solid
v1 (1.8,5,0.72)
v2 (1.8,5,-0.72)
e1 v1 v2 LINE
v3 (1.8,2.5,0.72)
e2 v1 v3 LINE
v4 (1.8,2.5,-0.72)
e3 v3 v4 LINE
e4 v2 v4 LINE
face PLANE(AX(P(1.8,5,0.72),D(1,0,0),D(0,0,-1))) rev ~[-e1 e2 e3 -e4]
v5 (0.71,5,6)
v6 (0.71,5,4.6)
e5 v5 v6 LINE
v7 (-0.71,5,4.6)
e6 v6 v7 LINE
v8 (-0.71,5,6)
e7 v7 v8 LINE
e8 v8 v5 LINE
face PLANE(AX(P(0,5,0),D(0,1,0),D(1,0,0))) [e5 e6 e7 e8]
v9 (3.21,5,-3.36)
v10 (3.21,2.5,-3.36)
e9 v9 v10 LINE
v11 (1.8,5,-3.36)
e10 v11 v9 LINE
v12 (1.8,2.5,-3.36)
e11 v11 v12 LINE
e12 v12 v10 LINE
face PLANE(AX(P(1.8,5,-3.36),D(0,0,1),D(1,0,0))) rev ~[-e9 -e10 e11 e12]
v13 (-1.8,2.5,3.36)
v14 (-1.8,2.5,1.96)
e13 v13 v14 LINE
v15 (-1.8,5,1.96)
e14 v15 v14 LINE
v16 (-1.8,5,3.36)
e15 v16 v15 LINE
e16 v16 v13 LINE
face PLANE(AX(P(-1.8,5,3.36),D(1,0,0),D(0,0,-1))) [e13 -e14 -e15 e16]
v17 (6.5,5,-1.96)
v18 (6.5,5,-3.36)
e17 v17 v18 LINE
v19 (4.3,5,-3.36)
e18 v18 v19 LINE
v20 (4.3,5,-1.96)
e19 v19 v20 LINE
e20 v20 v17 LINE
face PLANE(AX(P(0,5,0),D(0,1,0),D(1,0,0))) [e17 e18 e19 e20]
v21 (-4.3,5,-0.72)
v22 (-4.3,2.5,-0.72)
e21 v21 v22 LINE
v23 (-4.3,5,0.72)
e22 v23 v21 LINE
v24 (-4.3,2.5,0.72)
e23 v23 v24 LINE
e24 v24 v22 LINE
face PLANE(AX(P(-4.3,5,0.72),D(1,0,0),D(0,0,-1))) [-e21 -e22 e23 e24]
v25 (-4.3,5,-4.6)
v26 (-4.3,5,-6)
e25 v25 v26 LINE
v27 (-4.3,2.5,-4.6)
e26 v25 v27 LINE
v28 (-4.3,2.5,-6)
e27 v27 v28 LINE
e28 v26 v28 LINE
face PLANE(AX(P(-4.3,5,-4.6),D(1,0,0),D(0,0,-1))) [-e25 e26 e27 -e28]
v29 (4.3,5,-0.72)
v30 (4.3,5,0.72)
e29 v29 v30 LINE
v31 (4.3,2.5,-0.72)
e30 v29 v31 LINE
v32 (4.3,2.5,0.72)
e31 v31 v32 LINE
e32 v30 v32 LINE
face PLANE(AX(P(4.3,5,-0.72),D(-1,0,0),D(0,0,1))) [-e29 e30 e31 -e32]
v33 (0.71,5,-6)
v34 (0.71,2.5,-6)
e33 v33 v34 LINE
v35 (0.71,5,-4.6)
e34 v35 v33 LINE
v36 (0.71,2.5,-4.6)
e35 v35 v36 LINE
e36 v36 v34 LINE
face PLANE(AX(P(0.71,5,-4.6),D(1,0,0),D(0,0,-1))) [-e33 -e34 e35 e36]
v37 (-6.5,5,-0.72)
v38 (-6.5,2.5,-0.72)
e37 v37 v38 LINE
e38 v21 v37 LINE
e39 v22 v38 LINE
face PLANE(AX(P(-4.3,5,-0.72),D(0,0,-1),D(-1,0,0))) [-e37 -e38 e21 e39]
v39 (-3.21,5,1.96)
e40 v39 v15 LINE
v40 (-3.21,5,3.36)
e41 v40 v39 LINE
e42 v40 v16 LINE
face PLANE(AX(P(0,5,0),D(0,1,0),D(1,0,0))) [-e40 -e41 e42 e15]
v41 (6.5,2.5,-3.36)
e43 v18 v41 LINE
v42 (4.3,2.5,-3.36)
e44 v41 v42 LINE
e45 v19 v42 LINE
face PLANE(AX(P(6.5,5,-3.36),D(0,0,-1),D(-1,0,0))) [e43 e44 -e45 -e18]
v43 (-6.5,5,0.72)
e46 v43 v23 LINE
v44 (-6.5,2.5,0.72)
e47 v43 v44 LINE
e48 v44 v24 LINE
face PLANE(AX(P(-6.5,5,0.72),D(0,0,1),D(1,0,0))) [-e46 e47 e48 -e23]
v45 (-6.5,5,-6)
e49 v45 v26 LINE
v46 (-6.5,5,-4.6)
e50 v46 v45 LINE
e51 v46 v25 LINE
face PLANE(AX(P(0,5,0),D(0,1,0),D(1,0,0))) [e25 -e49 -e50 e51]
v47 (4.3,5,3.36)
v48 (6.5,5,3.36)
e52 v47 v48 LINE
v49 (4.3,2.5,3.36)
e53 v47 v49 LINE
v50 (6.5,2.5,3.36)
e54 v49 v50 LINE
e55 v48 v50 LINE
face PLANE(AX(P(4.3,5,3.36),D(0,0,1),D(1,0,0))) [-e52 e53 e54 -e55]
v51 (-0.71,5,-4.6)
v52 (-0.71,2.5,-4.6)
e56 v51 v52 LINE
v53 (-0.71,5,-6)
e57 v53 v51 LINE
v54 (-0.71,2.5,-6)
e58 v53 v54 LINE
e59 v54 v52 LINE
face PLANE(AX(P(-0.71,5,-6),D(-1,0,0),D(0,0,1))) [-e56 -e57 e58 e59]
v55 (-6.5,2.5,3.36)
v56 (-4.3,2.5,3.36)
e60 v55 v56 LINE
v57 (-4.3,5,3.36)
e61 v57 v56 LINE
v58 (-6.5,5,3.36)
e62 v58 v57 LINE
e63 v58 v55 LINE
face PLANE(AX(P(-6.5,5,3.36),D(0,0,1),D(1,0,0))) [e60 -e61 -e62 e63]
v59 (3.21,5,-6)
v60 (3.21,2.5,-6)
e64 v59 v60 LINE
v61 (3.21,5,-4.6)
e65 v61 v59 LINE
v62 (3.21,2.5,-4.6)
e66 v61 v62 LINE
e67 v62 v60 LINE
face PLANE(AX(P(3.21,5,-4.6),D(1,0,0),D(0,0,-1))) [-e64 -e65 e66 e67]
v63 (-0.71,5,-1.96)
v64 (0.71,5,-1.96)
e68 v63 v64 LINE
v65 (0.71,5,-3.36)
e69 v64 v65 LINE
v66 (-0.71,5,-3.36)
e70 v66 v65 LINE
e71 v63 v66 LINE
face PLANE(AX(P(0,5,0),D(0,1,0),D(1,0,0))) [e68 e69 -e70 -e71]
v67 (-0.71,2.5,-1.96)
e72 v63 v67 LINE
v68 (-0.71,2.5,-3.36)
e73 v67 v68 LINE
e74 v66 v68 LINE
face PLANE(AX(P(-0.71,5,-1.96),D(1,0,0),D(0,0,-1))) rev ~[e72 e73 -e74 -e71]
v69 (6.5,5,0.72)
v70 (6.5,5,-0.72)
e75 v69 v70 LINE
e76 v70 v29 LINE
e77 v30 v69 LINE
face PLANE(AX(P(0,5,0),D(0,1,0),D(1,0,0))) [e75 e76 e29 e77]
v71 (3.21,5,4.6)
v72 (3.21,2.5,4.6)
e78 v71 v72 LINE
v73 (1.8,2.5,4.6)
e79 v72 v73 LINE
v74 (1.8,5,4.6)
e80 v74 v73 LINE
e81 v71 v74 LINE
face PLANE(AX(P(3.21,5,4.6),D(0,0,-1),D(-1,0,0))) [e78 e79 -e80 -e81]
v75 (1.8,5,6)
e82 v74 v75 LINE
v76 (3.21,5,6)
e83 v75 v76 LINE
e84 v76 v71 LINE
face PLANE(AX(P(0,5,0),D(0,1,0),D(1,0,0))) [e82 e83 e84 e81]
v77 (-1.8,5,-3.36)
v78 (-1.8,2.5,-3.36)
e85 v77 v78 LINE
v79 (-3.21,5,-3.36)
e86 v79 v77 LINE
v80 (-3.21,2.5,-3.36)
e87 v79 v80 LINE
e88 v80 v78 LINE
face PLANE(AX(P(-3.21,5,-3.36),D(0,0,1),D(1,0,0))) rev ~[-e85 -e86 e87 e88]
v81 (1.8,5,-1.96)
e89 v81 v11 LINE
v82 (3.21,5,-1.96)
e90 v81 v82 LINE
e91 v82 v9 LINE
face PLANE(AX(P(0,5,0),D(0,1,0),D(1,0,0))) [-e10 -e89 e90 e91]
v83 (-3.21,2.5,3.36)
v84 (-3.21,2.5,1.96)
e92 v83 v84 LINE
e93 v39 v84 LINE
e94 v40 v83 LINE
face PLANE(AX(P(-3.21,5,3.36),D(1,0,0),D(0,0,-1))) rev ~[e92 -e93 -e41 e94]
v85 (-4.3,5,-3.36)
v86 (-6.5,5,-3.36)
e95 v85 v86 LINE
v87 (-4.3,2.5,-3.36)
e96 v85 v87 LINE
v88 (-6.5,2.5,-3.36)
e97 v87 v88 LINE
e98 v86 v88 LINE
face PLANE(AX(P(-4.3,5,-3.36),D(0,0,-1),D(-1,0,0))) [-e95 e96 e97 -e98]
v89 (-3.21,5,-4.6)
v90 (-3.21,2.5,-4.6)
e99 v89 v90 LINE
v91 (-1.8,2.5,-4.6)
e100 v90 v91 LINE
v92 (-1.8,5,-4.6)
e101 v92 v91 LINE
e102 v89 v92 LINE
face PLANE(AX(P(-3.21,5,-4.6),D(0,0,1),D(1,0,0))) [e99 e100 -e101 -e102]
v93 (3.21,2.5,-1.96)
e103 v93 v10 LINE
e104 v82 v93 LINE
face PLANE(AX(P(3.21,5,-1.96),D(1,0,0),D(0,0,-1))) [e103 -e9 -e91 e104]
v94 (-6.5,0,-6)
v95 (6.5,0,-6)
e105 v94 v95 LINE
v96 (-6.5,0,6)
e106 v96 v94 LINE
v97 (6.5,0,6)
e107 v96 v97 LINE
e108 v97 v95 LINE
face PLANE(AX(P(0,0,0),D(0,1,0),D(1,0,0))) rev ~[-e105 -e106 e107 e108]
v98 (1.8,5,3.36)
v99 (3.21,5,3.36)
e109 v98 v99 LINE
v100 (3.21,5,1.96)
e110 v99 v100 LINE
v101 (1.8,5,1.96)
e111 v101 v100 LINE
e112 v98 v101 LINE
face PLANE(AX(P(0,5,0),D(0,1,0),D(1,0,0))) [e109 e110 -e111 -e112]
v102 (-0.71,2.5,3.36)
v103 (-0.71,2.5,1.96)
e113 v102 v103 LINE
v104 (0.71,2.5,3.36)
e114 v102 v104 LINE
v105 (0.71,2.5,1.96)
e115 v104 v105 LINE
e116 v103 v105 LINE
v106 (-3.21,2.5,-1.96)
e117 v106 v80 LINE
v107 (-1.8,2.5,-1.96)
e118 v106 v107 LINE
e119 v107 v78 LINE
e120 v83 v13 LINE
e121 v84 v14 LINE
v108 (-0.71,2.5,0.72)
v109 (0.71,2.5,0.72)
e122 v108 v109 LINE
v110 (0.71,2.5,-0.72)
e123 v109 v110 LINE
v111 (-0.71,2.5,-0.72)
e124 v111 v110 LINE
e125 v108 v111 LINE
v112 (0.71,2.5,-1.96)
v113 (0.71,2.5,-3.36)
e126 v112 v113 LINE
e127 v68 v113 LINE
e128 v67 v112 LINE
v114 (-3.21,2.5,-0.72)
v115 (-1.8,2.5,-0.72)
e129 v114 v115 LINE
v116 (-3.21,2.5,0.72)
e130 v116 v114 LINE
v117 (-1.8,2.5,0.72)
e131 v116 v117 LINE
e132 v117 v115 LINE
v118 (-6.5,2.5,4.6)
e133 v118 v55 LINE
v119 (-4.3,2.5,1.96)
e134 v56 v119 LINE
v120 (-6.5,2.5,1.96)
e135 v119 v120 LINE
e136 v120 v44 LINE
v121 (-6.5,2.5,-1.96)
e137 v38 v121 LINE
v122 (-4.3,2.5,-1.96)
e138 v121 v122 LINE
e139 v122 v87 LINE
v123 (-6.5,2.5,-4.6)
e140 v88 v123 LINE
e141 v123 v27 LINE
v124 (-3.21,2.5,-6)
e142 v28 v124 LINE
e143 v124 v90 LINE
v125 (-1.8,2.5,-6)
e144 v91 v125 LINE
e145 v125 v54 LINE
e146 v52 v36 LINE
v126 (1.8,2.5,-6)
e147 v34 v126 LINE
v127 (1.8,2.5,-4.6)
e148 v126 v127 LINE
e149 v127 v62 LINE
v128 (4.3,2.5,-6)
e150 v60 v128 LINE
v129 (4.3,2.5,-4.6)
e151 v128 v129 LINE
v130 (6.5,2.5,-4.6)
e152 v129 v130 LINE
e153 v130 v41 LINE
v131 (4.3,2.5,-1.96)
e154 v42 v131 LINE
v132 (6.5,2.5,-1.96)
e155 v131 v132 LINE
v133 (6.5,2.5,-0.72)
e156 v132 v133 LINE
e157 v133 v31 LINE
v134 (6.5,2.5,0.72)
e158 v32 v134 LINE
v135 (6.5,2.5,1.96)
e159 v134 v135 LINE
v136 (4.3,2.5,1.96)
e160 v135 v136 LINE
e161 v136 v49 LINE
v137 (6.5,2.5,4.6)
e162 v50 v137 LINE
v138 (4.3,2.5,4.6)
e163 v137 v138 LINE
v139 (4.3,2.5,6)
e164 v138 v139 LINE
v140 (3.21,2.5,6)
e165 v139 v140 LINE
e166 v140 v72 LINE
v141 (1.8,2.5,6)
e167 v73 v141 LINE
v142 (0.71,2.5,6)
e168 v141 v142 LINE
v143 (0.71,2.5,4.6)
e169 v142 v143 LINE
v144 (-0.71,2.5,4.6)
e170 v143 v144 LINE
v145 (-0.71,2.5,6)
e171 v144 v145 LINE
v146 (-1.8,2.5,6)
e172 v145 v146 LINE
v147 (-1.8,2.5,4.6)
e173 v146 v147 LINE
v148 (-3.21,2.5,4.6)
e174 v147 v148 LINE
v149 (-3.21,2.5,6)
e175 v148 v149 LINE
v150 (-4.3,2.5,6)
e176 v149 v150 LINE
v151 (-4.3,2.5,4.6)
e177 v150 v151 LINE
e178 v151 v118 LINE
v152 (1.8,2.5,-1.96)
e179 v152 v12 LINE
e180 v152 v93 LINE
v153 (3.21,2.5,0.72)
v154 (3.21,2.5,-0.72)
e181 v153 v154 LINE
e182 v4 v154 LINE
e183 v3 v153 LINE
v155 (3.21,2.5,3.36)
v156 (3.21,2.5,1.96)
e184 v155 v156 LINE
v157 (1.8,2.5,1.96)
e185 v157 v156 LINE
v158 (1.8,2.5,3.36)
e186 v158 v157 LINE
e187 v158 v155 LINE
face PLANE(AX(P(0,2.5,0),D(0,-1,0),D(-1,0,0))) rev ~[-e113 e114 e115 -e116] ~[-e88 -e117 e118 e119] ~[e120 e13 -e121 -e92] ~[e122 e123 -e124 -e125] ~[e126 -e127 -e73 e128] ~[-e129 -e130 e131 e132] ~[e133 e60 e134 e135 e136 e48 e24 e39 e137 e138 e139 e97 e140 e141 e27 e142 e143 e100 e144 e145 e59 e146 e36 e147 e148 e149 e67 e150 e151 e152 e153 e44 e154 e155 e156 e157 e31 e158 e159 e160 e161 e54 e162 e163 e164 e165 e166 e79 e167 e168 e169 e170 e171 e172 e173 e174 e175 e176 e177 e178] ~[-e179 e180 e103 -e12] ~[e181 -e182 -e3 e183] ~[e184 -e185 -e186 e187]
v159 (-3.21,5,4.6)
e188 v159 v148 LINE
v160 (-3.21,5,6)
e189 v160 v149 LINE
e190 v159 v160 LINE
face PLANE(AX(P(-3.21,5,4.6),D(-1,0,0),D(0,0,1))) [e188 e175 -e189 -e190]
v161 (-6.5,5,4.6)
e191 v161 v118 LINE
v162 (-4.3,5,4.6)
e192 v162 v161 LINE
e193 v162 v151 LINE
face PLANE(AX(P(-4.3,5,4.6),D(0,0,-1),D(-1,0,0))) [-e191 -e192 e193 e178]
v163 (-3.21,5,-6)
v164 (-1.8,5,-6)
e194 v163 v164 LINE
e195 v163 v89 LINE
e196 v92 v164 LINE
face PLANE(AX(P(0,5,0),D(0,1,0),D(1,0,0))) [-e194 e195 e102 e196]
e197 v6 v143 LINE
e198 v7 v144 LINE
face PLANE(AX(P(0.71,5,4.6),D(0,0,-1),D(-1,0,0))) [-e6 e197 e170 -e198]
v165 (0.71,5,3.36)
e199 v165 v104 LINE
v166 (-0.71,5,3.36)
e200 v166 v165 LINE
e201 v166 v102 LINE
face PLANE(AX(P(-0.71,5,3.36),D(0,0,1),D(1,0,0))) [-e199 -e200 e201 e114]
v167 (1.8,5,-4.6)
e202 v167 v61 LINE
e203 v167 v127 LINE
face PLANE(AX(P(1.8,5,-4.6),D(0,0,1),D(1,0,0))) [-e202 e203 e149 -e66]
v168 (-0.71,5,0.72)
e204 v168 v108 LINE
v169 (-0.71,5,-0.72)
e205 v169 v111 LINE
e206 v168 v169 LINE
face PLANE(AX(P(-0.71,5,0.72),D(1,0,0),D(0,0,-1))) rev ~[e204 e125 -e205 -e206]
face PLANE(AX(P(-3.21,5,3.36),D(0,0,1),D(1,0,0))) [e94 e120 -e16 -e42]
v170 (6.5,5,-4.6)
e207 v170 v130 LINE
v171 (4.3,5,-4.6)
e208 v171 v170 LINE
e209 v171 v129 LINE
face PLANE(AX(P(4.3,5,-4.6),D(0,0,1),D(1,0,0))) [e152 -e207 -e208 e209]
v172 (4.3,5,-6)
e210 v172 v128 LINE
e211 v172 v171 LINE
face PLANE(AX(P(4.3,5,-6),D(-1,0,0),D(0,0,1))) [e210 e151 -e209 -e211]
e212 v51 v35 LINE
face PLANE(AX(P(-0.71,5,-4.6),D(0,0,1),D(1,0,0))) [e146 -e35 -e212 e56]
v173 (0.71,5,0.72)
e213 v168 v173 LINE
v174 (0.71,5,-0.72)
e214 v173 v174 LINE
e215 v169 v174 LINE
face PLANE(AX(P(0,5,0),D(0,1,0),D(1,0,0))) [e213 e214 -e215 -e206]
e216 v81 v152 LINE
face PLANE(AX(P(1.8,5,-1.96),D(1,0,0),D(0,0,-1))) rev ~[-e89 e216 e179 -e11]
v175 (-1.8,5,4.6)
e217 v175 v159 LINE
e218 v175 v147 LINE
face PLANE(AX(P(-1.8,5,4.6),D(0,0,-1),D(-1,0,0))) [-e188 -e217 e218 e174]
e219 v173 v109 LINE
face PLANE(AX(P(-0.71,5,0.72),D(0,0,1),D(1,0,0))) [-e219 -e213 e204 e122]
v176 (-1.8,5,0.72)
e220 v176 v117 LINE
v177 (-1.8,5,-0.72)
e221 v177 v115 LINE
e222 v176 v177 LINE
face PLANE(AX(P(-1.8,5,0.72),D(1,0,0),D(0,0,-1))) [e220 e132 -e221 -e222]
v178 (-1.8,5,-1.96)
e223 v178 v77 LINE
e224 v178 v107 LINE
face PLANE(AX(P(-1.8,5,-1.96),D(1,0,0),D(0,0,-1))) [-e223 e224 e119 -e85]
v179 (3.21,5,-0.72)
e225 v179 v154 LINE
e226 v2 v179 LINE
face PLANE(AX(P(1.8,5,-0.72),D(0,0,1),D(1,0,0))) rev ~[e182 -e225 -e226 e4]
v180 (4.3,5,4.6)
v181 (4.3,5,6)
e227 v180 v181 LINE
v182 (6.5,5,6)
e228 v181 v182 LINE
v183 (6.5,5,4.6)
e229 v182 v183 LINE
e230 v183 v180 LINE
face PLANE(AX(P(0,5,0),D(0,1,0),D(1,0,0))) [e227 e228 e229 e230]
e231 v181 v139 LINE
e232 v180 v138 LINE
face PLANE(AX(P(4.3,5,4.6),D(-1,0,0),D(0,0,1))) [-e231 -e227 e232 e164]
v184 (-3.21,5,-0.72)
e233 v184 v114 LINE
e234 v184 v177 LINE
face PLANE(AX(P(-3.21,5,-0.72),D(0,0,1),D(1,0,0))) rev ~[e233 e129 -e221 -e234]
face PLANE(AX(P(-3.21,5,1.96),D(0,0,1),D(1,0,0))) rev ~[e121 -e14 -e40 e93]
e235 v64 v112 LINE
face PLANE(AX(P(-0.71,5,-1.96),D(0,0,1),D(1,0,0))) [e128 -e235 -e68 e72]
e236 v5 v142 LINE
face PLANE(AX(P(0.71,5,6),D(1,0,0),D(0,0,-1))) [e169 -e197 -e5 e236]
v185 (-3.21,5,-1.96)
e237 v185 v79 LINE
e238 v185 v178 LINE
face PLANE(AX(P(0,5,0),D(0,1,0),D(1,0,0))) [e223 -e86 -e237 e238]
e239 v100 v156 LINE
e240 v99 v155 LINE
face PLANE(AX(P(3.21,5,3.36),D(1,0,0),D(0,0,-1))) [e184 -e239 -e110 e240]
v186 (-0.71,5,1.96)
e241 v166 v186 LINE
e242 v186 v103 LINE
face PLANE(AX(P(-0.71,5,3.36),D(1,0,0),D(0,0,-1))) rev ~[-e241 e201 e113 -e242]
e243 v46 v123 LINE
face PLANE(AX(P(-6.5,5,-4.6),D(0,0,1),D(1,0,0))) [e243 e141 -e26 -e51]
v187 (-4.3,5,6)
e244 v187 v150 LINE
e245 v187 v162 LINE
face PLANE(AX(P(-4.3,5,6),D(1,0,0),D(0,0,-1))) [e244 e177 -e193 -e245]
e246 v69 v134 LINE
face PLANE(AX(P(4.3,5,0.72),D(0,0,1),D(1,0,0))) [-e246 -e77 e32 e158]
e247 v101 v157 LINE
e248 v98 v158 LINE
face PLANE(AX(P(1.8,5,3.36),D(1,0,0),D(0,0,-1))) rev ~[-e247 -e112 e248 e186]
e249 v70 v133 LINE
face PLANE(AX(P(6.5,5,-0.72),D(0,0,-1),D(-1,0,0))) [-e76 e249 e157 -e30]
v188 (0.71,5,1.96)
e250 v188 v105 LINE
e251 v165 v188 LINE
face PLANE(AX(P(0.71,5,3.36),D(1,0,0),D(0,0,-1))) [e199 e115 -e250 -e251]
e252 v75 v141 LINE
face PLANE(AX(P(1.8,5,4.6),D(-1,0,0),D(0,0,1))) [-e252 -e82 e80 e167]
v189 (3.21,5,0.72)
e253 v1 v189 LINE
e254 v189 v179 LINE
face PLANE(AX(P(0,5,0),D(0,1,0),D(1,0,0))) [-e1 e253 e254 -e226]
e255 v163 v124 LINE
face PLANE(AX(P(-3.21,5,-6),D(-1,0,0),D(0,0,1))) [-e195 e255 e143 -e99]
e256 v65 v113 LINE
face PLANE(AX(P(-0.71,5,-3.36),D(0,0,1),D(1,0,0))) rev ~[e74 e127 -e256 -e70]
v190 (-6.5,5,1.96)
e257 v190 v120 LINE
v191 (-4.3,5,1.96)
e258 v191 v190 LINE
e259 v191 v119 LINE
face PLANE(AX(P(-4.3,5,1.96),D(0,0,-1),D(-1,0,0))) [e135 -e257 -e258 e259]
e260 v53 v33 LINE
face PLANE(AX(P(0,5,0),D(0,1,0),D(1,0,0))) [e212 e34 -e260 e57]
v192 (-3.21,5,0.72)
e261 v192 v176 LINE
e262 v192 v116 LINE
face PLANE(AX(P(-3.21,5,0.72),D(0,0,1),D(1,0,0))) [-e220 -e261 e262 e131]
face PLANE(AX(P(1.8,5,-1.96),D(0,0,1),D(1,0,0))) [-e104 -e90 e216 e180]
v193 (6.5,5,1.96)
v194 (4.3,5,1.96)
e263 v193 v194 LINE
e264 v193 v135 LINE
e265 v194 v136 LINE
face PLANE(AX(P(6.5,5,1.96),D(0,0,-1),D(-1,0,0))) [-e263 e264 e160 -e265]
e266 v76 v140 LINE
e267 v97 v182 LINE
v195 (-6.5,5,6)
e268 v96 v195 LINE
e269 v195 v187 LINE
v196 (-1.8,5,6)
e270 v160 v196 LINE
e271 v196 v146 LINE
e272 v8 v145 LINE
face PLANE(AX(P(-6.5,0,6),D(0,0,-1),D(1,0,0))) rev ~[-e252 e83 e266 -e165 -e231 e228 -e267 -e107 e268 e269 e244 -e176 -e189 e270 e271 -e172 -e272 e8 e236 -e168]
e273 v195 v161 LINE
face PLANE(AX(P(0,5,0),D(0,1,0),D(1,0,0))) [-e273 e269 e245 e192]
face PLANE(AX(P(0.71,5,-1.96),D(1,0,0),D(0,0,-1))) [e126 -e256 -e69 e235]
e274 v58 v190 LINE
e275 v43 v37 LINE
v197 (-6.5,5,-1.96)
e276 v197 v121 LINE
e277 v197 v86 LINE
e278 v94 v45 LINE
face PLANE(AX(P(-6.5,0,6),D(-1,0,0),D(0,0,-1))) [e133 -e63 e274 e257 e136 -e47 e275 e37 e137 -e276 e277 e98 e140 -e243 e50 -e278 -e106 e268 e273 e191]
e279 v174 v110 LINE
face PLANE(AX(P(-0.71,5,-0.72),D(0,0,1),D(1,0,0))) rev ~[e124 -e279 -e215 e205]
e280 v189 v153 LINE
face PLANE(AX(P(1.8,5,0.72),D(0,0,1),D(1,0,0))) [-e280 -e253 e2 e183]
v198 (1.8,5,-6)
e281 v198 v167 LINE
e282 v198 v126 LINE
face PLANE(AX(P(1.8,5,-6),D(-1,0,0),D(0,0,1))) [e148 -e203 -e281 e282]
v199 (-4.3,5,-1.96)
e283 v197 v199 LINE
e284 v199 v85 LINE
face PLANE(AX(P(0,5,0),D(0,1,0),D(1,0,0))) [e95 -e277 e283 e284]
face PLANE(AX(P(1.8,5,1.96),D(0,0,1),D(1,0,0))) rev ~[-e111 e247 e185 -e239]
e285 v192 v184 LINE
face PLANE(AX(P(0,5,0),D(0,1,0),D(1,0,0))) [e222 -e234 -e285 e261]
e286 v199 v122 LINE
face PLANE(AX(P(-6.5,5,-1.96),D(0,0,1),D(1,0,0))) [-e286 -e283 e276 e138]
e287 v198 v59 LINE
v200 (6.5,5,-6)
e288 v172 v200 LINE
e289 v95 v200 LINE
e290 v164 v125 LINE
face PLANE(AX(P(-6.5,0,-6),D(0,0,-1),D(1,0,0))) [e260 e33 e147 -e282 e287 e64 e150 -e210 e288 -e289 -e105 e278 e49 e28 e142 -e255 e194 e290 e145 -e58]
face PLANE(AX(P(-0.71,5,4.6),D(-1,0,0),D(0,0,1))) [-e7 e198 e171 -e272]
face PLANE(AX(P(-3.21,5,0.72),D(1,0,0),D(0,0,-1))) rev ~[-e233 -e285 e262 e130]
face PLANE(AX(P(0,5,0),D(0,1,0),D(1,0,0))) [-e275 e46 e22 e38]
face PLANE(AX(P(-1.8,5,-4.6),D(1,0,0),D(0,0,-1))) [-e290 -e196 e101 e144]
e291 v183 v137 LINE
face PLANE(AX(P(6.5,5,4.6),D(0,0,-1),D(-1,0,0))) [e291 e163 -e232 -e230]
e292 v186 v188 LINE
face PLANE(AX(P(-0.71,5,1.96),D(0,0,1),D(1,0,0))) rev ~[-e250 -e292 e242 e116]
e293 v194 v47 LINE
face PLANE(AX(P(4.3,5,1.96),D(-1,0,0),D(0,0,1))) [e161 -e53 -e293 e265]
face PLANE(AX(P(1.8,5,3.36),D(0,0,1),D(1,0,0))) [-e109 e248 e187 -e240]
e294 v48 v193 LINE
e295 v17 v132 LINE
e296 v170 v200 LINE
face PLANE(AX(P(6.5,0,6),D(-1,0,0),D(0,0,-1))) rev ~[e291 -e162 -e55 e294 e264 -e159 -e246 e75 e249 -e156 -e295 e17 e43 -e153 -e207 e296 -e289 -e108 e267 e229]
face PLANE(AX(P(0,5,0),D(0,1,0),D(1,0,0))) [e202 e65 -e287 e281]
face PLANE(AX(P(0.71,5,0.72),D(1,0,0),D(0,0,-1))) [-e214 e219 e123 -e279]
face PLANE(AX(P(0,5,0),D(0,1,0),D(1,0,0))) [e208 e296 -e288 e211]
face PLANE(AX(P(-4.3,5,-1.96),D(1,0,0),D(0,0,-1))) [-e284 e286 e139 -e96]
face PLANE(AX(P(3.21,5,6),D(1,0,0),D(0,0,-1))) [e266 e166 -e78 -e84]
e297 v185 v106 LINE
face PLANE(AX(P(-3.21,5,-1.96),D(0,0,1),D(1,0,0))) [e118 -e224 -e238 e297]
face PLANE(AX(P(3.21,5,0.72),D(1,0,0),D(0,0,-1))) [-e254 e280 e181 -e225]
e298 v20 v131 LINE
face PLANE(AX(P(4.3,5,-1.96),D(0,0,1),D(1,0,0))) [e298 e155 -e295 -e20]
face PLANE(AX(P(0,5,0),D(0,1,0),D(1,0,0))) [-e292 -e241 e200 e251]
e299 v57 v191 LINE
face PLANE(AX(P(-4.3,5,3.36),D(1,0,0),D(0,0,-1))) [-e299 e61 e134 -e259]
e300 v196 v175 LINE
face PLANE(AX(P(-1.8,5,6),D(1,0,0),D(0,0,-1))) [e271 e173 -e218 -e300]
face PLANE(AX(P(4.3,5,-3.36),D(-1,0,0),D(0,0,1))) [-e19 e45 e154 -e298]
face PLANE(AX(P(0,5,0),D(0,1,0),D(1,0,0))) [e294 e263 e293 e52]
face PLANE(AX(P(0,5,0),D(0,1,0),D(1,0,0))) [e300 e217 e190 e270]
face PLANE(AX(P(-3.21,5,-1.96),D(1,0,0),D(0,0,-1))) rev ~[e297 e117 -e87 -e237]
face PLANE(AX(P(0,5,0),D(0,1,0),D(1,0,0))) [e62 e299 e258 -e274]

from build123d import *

# Parameters (mm, degrees)
SKETCH1_W           = 13
SKETCH1_H           = 12
BOSS_EXTRUDE1_DEPTH = 5
SKETCH2_W           = 1.41
SKETCH2_H           = 1.4
SKETCH2_H_2         = 1.44
SKETCH2_W_2         = 1.42
CUT_EXTRUDE1_DEPTH  = 2.5


with BuildPart() as part:
    # Sketch1 → Boss-Extrude1 (new body)
    with BuildSketch(Plane(origin=(0, 0, 0), x_dir=(1, 0, 0), z_dir=(0, 1, 0))):
        Rectangle(SKETCH1_W, SKETCH1_H)
    extrude(amount=BOSS_EXTRUDE1_DEPTH)

    # Sketch2 → Cut-Extrude1 (cut)
    with BuildSketch(Plane(origin=(0, 5, 0), x_dir=(1, 0, 0), z_dir=(0, 1, 0))):
        Polygon((-1.8, 6), (-0.71, 6), (-0.71, 4.6), (0.71, 4.6), (0.71, 6), (1.8, 6), (1.8, 4.6), (3.21, 4.6), (3.21, 6), (4.3, 6), (4.3, 4.6), (6.5, 4.6), (6.5, 3.36), (4.3, 3.36), (4.3, 1.96), (6.5, 1.96), (6.5, 0.72), (4.3, 0.72), (4.3, -0.72), (6.5, -0.72), (6.5, -1.96), (4.3, -1.96), (4.3, -3.36), (6.5, -3.36), (6.5, -4.6), (4.3, -4.6), (4.3, -6), (3.21, -6), (3.21, -4.6), (1.8, -4.6), (1.8, -6), (0.71, -6), (0.71, -4.6), (-0.71, -4.6), (-0.71, -6), (-1.8, -6), (-1.8, -4.6), (-3.21, -4.6), (-3.21, -6), (-4.3, -6), (-4.3, -4.6), (-6.5, -4.6), (-6.5, -3.36), (-4.3, -3.36), (-4.3, -1.96), (-6.5, -1.96), (-6.5, -0.72), (-4.3, -0.72), (-4.3, 0.72), (-6.5, 0.72), (-6.5, 1.96), (-4.3, 1.96), (-4.3, 3.36), (-6.5, 3.36), (-6.5, 4.6), (-4.3, 4.6), (-4.3, 6), (-3.21, 6), (-3.21, 4.6), (-1.8, 4.6), align=None)
        with Locations((-2.505, -2.66)):
            Rectangle(SKETCH2_W, SKETCH2_H, mode=Mode.SUBTRACT)
        with Locations((-2.505, 0)):
            Rectangle(SKETCH2_W, SKETCH2_H_2, mode=Mode.SUBTRACT)
        with Locations((-2.505, 2.66)):
            Rectangle(SKETCH2_W, SKETCH2_H, mode=Mode.SUBTRACT)
        with Locations((2.505, -2.66)):
            Rectangle(SKETCH2_W, SKETCH2_H, mode=Mode.SUBTRACT)
        with Locations((0, -2.66)):
            Rectangle(SKETCH2_W_2, SKETCH2_H, mode=Mode.SUBTRACT)
        Rectangle(SKETCH2_W_2, SKETCH2_H_2, mode=Mode.SUBTRACT)
        with Locations((0, 2.66)):
            Rectangle(SKETCH2_W_2, SKETCH2_H, mode=Mode.SUBTRACT)
        with Locations((2.505, 2.66)):
            Rectangle(SKETCH2_W, SKETCH2_H, mode=Mode.SUBTRACT)
        with Locations((2.505, 0)):
            Rectangle(SKETCH2_W, SKETCH2_H_2, mode=Mode.SUBTRACT)
    extrude(amount=-CUT_EXTRUDE1_DEPTH, mode=Mode.SUBTRACT)


solid = part.part
